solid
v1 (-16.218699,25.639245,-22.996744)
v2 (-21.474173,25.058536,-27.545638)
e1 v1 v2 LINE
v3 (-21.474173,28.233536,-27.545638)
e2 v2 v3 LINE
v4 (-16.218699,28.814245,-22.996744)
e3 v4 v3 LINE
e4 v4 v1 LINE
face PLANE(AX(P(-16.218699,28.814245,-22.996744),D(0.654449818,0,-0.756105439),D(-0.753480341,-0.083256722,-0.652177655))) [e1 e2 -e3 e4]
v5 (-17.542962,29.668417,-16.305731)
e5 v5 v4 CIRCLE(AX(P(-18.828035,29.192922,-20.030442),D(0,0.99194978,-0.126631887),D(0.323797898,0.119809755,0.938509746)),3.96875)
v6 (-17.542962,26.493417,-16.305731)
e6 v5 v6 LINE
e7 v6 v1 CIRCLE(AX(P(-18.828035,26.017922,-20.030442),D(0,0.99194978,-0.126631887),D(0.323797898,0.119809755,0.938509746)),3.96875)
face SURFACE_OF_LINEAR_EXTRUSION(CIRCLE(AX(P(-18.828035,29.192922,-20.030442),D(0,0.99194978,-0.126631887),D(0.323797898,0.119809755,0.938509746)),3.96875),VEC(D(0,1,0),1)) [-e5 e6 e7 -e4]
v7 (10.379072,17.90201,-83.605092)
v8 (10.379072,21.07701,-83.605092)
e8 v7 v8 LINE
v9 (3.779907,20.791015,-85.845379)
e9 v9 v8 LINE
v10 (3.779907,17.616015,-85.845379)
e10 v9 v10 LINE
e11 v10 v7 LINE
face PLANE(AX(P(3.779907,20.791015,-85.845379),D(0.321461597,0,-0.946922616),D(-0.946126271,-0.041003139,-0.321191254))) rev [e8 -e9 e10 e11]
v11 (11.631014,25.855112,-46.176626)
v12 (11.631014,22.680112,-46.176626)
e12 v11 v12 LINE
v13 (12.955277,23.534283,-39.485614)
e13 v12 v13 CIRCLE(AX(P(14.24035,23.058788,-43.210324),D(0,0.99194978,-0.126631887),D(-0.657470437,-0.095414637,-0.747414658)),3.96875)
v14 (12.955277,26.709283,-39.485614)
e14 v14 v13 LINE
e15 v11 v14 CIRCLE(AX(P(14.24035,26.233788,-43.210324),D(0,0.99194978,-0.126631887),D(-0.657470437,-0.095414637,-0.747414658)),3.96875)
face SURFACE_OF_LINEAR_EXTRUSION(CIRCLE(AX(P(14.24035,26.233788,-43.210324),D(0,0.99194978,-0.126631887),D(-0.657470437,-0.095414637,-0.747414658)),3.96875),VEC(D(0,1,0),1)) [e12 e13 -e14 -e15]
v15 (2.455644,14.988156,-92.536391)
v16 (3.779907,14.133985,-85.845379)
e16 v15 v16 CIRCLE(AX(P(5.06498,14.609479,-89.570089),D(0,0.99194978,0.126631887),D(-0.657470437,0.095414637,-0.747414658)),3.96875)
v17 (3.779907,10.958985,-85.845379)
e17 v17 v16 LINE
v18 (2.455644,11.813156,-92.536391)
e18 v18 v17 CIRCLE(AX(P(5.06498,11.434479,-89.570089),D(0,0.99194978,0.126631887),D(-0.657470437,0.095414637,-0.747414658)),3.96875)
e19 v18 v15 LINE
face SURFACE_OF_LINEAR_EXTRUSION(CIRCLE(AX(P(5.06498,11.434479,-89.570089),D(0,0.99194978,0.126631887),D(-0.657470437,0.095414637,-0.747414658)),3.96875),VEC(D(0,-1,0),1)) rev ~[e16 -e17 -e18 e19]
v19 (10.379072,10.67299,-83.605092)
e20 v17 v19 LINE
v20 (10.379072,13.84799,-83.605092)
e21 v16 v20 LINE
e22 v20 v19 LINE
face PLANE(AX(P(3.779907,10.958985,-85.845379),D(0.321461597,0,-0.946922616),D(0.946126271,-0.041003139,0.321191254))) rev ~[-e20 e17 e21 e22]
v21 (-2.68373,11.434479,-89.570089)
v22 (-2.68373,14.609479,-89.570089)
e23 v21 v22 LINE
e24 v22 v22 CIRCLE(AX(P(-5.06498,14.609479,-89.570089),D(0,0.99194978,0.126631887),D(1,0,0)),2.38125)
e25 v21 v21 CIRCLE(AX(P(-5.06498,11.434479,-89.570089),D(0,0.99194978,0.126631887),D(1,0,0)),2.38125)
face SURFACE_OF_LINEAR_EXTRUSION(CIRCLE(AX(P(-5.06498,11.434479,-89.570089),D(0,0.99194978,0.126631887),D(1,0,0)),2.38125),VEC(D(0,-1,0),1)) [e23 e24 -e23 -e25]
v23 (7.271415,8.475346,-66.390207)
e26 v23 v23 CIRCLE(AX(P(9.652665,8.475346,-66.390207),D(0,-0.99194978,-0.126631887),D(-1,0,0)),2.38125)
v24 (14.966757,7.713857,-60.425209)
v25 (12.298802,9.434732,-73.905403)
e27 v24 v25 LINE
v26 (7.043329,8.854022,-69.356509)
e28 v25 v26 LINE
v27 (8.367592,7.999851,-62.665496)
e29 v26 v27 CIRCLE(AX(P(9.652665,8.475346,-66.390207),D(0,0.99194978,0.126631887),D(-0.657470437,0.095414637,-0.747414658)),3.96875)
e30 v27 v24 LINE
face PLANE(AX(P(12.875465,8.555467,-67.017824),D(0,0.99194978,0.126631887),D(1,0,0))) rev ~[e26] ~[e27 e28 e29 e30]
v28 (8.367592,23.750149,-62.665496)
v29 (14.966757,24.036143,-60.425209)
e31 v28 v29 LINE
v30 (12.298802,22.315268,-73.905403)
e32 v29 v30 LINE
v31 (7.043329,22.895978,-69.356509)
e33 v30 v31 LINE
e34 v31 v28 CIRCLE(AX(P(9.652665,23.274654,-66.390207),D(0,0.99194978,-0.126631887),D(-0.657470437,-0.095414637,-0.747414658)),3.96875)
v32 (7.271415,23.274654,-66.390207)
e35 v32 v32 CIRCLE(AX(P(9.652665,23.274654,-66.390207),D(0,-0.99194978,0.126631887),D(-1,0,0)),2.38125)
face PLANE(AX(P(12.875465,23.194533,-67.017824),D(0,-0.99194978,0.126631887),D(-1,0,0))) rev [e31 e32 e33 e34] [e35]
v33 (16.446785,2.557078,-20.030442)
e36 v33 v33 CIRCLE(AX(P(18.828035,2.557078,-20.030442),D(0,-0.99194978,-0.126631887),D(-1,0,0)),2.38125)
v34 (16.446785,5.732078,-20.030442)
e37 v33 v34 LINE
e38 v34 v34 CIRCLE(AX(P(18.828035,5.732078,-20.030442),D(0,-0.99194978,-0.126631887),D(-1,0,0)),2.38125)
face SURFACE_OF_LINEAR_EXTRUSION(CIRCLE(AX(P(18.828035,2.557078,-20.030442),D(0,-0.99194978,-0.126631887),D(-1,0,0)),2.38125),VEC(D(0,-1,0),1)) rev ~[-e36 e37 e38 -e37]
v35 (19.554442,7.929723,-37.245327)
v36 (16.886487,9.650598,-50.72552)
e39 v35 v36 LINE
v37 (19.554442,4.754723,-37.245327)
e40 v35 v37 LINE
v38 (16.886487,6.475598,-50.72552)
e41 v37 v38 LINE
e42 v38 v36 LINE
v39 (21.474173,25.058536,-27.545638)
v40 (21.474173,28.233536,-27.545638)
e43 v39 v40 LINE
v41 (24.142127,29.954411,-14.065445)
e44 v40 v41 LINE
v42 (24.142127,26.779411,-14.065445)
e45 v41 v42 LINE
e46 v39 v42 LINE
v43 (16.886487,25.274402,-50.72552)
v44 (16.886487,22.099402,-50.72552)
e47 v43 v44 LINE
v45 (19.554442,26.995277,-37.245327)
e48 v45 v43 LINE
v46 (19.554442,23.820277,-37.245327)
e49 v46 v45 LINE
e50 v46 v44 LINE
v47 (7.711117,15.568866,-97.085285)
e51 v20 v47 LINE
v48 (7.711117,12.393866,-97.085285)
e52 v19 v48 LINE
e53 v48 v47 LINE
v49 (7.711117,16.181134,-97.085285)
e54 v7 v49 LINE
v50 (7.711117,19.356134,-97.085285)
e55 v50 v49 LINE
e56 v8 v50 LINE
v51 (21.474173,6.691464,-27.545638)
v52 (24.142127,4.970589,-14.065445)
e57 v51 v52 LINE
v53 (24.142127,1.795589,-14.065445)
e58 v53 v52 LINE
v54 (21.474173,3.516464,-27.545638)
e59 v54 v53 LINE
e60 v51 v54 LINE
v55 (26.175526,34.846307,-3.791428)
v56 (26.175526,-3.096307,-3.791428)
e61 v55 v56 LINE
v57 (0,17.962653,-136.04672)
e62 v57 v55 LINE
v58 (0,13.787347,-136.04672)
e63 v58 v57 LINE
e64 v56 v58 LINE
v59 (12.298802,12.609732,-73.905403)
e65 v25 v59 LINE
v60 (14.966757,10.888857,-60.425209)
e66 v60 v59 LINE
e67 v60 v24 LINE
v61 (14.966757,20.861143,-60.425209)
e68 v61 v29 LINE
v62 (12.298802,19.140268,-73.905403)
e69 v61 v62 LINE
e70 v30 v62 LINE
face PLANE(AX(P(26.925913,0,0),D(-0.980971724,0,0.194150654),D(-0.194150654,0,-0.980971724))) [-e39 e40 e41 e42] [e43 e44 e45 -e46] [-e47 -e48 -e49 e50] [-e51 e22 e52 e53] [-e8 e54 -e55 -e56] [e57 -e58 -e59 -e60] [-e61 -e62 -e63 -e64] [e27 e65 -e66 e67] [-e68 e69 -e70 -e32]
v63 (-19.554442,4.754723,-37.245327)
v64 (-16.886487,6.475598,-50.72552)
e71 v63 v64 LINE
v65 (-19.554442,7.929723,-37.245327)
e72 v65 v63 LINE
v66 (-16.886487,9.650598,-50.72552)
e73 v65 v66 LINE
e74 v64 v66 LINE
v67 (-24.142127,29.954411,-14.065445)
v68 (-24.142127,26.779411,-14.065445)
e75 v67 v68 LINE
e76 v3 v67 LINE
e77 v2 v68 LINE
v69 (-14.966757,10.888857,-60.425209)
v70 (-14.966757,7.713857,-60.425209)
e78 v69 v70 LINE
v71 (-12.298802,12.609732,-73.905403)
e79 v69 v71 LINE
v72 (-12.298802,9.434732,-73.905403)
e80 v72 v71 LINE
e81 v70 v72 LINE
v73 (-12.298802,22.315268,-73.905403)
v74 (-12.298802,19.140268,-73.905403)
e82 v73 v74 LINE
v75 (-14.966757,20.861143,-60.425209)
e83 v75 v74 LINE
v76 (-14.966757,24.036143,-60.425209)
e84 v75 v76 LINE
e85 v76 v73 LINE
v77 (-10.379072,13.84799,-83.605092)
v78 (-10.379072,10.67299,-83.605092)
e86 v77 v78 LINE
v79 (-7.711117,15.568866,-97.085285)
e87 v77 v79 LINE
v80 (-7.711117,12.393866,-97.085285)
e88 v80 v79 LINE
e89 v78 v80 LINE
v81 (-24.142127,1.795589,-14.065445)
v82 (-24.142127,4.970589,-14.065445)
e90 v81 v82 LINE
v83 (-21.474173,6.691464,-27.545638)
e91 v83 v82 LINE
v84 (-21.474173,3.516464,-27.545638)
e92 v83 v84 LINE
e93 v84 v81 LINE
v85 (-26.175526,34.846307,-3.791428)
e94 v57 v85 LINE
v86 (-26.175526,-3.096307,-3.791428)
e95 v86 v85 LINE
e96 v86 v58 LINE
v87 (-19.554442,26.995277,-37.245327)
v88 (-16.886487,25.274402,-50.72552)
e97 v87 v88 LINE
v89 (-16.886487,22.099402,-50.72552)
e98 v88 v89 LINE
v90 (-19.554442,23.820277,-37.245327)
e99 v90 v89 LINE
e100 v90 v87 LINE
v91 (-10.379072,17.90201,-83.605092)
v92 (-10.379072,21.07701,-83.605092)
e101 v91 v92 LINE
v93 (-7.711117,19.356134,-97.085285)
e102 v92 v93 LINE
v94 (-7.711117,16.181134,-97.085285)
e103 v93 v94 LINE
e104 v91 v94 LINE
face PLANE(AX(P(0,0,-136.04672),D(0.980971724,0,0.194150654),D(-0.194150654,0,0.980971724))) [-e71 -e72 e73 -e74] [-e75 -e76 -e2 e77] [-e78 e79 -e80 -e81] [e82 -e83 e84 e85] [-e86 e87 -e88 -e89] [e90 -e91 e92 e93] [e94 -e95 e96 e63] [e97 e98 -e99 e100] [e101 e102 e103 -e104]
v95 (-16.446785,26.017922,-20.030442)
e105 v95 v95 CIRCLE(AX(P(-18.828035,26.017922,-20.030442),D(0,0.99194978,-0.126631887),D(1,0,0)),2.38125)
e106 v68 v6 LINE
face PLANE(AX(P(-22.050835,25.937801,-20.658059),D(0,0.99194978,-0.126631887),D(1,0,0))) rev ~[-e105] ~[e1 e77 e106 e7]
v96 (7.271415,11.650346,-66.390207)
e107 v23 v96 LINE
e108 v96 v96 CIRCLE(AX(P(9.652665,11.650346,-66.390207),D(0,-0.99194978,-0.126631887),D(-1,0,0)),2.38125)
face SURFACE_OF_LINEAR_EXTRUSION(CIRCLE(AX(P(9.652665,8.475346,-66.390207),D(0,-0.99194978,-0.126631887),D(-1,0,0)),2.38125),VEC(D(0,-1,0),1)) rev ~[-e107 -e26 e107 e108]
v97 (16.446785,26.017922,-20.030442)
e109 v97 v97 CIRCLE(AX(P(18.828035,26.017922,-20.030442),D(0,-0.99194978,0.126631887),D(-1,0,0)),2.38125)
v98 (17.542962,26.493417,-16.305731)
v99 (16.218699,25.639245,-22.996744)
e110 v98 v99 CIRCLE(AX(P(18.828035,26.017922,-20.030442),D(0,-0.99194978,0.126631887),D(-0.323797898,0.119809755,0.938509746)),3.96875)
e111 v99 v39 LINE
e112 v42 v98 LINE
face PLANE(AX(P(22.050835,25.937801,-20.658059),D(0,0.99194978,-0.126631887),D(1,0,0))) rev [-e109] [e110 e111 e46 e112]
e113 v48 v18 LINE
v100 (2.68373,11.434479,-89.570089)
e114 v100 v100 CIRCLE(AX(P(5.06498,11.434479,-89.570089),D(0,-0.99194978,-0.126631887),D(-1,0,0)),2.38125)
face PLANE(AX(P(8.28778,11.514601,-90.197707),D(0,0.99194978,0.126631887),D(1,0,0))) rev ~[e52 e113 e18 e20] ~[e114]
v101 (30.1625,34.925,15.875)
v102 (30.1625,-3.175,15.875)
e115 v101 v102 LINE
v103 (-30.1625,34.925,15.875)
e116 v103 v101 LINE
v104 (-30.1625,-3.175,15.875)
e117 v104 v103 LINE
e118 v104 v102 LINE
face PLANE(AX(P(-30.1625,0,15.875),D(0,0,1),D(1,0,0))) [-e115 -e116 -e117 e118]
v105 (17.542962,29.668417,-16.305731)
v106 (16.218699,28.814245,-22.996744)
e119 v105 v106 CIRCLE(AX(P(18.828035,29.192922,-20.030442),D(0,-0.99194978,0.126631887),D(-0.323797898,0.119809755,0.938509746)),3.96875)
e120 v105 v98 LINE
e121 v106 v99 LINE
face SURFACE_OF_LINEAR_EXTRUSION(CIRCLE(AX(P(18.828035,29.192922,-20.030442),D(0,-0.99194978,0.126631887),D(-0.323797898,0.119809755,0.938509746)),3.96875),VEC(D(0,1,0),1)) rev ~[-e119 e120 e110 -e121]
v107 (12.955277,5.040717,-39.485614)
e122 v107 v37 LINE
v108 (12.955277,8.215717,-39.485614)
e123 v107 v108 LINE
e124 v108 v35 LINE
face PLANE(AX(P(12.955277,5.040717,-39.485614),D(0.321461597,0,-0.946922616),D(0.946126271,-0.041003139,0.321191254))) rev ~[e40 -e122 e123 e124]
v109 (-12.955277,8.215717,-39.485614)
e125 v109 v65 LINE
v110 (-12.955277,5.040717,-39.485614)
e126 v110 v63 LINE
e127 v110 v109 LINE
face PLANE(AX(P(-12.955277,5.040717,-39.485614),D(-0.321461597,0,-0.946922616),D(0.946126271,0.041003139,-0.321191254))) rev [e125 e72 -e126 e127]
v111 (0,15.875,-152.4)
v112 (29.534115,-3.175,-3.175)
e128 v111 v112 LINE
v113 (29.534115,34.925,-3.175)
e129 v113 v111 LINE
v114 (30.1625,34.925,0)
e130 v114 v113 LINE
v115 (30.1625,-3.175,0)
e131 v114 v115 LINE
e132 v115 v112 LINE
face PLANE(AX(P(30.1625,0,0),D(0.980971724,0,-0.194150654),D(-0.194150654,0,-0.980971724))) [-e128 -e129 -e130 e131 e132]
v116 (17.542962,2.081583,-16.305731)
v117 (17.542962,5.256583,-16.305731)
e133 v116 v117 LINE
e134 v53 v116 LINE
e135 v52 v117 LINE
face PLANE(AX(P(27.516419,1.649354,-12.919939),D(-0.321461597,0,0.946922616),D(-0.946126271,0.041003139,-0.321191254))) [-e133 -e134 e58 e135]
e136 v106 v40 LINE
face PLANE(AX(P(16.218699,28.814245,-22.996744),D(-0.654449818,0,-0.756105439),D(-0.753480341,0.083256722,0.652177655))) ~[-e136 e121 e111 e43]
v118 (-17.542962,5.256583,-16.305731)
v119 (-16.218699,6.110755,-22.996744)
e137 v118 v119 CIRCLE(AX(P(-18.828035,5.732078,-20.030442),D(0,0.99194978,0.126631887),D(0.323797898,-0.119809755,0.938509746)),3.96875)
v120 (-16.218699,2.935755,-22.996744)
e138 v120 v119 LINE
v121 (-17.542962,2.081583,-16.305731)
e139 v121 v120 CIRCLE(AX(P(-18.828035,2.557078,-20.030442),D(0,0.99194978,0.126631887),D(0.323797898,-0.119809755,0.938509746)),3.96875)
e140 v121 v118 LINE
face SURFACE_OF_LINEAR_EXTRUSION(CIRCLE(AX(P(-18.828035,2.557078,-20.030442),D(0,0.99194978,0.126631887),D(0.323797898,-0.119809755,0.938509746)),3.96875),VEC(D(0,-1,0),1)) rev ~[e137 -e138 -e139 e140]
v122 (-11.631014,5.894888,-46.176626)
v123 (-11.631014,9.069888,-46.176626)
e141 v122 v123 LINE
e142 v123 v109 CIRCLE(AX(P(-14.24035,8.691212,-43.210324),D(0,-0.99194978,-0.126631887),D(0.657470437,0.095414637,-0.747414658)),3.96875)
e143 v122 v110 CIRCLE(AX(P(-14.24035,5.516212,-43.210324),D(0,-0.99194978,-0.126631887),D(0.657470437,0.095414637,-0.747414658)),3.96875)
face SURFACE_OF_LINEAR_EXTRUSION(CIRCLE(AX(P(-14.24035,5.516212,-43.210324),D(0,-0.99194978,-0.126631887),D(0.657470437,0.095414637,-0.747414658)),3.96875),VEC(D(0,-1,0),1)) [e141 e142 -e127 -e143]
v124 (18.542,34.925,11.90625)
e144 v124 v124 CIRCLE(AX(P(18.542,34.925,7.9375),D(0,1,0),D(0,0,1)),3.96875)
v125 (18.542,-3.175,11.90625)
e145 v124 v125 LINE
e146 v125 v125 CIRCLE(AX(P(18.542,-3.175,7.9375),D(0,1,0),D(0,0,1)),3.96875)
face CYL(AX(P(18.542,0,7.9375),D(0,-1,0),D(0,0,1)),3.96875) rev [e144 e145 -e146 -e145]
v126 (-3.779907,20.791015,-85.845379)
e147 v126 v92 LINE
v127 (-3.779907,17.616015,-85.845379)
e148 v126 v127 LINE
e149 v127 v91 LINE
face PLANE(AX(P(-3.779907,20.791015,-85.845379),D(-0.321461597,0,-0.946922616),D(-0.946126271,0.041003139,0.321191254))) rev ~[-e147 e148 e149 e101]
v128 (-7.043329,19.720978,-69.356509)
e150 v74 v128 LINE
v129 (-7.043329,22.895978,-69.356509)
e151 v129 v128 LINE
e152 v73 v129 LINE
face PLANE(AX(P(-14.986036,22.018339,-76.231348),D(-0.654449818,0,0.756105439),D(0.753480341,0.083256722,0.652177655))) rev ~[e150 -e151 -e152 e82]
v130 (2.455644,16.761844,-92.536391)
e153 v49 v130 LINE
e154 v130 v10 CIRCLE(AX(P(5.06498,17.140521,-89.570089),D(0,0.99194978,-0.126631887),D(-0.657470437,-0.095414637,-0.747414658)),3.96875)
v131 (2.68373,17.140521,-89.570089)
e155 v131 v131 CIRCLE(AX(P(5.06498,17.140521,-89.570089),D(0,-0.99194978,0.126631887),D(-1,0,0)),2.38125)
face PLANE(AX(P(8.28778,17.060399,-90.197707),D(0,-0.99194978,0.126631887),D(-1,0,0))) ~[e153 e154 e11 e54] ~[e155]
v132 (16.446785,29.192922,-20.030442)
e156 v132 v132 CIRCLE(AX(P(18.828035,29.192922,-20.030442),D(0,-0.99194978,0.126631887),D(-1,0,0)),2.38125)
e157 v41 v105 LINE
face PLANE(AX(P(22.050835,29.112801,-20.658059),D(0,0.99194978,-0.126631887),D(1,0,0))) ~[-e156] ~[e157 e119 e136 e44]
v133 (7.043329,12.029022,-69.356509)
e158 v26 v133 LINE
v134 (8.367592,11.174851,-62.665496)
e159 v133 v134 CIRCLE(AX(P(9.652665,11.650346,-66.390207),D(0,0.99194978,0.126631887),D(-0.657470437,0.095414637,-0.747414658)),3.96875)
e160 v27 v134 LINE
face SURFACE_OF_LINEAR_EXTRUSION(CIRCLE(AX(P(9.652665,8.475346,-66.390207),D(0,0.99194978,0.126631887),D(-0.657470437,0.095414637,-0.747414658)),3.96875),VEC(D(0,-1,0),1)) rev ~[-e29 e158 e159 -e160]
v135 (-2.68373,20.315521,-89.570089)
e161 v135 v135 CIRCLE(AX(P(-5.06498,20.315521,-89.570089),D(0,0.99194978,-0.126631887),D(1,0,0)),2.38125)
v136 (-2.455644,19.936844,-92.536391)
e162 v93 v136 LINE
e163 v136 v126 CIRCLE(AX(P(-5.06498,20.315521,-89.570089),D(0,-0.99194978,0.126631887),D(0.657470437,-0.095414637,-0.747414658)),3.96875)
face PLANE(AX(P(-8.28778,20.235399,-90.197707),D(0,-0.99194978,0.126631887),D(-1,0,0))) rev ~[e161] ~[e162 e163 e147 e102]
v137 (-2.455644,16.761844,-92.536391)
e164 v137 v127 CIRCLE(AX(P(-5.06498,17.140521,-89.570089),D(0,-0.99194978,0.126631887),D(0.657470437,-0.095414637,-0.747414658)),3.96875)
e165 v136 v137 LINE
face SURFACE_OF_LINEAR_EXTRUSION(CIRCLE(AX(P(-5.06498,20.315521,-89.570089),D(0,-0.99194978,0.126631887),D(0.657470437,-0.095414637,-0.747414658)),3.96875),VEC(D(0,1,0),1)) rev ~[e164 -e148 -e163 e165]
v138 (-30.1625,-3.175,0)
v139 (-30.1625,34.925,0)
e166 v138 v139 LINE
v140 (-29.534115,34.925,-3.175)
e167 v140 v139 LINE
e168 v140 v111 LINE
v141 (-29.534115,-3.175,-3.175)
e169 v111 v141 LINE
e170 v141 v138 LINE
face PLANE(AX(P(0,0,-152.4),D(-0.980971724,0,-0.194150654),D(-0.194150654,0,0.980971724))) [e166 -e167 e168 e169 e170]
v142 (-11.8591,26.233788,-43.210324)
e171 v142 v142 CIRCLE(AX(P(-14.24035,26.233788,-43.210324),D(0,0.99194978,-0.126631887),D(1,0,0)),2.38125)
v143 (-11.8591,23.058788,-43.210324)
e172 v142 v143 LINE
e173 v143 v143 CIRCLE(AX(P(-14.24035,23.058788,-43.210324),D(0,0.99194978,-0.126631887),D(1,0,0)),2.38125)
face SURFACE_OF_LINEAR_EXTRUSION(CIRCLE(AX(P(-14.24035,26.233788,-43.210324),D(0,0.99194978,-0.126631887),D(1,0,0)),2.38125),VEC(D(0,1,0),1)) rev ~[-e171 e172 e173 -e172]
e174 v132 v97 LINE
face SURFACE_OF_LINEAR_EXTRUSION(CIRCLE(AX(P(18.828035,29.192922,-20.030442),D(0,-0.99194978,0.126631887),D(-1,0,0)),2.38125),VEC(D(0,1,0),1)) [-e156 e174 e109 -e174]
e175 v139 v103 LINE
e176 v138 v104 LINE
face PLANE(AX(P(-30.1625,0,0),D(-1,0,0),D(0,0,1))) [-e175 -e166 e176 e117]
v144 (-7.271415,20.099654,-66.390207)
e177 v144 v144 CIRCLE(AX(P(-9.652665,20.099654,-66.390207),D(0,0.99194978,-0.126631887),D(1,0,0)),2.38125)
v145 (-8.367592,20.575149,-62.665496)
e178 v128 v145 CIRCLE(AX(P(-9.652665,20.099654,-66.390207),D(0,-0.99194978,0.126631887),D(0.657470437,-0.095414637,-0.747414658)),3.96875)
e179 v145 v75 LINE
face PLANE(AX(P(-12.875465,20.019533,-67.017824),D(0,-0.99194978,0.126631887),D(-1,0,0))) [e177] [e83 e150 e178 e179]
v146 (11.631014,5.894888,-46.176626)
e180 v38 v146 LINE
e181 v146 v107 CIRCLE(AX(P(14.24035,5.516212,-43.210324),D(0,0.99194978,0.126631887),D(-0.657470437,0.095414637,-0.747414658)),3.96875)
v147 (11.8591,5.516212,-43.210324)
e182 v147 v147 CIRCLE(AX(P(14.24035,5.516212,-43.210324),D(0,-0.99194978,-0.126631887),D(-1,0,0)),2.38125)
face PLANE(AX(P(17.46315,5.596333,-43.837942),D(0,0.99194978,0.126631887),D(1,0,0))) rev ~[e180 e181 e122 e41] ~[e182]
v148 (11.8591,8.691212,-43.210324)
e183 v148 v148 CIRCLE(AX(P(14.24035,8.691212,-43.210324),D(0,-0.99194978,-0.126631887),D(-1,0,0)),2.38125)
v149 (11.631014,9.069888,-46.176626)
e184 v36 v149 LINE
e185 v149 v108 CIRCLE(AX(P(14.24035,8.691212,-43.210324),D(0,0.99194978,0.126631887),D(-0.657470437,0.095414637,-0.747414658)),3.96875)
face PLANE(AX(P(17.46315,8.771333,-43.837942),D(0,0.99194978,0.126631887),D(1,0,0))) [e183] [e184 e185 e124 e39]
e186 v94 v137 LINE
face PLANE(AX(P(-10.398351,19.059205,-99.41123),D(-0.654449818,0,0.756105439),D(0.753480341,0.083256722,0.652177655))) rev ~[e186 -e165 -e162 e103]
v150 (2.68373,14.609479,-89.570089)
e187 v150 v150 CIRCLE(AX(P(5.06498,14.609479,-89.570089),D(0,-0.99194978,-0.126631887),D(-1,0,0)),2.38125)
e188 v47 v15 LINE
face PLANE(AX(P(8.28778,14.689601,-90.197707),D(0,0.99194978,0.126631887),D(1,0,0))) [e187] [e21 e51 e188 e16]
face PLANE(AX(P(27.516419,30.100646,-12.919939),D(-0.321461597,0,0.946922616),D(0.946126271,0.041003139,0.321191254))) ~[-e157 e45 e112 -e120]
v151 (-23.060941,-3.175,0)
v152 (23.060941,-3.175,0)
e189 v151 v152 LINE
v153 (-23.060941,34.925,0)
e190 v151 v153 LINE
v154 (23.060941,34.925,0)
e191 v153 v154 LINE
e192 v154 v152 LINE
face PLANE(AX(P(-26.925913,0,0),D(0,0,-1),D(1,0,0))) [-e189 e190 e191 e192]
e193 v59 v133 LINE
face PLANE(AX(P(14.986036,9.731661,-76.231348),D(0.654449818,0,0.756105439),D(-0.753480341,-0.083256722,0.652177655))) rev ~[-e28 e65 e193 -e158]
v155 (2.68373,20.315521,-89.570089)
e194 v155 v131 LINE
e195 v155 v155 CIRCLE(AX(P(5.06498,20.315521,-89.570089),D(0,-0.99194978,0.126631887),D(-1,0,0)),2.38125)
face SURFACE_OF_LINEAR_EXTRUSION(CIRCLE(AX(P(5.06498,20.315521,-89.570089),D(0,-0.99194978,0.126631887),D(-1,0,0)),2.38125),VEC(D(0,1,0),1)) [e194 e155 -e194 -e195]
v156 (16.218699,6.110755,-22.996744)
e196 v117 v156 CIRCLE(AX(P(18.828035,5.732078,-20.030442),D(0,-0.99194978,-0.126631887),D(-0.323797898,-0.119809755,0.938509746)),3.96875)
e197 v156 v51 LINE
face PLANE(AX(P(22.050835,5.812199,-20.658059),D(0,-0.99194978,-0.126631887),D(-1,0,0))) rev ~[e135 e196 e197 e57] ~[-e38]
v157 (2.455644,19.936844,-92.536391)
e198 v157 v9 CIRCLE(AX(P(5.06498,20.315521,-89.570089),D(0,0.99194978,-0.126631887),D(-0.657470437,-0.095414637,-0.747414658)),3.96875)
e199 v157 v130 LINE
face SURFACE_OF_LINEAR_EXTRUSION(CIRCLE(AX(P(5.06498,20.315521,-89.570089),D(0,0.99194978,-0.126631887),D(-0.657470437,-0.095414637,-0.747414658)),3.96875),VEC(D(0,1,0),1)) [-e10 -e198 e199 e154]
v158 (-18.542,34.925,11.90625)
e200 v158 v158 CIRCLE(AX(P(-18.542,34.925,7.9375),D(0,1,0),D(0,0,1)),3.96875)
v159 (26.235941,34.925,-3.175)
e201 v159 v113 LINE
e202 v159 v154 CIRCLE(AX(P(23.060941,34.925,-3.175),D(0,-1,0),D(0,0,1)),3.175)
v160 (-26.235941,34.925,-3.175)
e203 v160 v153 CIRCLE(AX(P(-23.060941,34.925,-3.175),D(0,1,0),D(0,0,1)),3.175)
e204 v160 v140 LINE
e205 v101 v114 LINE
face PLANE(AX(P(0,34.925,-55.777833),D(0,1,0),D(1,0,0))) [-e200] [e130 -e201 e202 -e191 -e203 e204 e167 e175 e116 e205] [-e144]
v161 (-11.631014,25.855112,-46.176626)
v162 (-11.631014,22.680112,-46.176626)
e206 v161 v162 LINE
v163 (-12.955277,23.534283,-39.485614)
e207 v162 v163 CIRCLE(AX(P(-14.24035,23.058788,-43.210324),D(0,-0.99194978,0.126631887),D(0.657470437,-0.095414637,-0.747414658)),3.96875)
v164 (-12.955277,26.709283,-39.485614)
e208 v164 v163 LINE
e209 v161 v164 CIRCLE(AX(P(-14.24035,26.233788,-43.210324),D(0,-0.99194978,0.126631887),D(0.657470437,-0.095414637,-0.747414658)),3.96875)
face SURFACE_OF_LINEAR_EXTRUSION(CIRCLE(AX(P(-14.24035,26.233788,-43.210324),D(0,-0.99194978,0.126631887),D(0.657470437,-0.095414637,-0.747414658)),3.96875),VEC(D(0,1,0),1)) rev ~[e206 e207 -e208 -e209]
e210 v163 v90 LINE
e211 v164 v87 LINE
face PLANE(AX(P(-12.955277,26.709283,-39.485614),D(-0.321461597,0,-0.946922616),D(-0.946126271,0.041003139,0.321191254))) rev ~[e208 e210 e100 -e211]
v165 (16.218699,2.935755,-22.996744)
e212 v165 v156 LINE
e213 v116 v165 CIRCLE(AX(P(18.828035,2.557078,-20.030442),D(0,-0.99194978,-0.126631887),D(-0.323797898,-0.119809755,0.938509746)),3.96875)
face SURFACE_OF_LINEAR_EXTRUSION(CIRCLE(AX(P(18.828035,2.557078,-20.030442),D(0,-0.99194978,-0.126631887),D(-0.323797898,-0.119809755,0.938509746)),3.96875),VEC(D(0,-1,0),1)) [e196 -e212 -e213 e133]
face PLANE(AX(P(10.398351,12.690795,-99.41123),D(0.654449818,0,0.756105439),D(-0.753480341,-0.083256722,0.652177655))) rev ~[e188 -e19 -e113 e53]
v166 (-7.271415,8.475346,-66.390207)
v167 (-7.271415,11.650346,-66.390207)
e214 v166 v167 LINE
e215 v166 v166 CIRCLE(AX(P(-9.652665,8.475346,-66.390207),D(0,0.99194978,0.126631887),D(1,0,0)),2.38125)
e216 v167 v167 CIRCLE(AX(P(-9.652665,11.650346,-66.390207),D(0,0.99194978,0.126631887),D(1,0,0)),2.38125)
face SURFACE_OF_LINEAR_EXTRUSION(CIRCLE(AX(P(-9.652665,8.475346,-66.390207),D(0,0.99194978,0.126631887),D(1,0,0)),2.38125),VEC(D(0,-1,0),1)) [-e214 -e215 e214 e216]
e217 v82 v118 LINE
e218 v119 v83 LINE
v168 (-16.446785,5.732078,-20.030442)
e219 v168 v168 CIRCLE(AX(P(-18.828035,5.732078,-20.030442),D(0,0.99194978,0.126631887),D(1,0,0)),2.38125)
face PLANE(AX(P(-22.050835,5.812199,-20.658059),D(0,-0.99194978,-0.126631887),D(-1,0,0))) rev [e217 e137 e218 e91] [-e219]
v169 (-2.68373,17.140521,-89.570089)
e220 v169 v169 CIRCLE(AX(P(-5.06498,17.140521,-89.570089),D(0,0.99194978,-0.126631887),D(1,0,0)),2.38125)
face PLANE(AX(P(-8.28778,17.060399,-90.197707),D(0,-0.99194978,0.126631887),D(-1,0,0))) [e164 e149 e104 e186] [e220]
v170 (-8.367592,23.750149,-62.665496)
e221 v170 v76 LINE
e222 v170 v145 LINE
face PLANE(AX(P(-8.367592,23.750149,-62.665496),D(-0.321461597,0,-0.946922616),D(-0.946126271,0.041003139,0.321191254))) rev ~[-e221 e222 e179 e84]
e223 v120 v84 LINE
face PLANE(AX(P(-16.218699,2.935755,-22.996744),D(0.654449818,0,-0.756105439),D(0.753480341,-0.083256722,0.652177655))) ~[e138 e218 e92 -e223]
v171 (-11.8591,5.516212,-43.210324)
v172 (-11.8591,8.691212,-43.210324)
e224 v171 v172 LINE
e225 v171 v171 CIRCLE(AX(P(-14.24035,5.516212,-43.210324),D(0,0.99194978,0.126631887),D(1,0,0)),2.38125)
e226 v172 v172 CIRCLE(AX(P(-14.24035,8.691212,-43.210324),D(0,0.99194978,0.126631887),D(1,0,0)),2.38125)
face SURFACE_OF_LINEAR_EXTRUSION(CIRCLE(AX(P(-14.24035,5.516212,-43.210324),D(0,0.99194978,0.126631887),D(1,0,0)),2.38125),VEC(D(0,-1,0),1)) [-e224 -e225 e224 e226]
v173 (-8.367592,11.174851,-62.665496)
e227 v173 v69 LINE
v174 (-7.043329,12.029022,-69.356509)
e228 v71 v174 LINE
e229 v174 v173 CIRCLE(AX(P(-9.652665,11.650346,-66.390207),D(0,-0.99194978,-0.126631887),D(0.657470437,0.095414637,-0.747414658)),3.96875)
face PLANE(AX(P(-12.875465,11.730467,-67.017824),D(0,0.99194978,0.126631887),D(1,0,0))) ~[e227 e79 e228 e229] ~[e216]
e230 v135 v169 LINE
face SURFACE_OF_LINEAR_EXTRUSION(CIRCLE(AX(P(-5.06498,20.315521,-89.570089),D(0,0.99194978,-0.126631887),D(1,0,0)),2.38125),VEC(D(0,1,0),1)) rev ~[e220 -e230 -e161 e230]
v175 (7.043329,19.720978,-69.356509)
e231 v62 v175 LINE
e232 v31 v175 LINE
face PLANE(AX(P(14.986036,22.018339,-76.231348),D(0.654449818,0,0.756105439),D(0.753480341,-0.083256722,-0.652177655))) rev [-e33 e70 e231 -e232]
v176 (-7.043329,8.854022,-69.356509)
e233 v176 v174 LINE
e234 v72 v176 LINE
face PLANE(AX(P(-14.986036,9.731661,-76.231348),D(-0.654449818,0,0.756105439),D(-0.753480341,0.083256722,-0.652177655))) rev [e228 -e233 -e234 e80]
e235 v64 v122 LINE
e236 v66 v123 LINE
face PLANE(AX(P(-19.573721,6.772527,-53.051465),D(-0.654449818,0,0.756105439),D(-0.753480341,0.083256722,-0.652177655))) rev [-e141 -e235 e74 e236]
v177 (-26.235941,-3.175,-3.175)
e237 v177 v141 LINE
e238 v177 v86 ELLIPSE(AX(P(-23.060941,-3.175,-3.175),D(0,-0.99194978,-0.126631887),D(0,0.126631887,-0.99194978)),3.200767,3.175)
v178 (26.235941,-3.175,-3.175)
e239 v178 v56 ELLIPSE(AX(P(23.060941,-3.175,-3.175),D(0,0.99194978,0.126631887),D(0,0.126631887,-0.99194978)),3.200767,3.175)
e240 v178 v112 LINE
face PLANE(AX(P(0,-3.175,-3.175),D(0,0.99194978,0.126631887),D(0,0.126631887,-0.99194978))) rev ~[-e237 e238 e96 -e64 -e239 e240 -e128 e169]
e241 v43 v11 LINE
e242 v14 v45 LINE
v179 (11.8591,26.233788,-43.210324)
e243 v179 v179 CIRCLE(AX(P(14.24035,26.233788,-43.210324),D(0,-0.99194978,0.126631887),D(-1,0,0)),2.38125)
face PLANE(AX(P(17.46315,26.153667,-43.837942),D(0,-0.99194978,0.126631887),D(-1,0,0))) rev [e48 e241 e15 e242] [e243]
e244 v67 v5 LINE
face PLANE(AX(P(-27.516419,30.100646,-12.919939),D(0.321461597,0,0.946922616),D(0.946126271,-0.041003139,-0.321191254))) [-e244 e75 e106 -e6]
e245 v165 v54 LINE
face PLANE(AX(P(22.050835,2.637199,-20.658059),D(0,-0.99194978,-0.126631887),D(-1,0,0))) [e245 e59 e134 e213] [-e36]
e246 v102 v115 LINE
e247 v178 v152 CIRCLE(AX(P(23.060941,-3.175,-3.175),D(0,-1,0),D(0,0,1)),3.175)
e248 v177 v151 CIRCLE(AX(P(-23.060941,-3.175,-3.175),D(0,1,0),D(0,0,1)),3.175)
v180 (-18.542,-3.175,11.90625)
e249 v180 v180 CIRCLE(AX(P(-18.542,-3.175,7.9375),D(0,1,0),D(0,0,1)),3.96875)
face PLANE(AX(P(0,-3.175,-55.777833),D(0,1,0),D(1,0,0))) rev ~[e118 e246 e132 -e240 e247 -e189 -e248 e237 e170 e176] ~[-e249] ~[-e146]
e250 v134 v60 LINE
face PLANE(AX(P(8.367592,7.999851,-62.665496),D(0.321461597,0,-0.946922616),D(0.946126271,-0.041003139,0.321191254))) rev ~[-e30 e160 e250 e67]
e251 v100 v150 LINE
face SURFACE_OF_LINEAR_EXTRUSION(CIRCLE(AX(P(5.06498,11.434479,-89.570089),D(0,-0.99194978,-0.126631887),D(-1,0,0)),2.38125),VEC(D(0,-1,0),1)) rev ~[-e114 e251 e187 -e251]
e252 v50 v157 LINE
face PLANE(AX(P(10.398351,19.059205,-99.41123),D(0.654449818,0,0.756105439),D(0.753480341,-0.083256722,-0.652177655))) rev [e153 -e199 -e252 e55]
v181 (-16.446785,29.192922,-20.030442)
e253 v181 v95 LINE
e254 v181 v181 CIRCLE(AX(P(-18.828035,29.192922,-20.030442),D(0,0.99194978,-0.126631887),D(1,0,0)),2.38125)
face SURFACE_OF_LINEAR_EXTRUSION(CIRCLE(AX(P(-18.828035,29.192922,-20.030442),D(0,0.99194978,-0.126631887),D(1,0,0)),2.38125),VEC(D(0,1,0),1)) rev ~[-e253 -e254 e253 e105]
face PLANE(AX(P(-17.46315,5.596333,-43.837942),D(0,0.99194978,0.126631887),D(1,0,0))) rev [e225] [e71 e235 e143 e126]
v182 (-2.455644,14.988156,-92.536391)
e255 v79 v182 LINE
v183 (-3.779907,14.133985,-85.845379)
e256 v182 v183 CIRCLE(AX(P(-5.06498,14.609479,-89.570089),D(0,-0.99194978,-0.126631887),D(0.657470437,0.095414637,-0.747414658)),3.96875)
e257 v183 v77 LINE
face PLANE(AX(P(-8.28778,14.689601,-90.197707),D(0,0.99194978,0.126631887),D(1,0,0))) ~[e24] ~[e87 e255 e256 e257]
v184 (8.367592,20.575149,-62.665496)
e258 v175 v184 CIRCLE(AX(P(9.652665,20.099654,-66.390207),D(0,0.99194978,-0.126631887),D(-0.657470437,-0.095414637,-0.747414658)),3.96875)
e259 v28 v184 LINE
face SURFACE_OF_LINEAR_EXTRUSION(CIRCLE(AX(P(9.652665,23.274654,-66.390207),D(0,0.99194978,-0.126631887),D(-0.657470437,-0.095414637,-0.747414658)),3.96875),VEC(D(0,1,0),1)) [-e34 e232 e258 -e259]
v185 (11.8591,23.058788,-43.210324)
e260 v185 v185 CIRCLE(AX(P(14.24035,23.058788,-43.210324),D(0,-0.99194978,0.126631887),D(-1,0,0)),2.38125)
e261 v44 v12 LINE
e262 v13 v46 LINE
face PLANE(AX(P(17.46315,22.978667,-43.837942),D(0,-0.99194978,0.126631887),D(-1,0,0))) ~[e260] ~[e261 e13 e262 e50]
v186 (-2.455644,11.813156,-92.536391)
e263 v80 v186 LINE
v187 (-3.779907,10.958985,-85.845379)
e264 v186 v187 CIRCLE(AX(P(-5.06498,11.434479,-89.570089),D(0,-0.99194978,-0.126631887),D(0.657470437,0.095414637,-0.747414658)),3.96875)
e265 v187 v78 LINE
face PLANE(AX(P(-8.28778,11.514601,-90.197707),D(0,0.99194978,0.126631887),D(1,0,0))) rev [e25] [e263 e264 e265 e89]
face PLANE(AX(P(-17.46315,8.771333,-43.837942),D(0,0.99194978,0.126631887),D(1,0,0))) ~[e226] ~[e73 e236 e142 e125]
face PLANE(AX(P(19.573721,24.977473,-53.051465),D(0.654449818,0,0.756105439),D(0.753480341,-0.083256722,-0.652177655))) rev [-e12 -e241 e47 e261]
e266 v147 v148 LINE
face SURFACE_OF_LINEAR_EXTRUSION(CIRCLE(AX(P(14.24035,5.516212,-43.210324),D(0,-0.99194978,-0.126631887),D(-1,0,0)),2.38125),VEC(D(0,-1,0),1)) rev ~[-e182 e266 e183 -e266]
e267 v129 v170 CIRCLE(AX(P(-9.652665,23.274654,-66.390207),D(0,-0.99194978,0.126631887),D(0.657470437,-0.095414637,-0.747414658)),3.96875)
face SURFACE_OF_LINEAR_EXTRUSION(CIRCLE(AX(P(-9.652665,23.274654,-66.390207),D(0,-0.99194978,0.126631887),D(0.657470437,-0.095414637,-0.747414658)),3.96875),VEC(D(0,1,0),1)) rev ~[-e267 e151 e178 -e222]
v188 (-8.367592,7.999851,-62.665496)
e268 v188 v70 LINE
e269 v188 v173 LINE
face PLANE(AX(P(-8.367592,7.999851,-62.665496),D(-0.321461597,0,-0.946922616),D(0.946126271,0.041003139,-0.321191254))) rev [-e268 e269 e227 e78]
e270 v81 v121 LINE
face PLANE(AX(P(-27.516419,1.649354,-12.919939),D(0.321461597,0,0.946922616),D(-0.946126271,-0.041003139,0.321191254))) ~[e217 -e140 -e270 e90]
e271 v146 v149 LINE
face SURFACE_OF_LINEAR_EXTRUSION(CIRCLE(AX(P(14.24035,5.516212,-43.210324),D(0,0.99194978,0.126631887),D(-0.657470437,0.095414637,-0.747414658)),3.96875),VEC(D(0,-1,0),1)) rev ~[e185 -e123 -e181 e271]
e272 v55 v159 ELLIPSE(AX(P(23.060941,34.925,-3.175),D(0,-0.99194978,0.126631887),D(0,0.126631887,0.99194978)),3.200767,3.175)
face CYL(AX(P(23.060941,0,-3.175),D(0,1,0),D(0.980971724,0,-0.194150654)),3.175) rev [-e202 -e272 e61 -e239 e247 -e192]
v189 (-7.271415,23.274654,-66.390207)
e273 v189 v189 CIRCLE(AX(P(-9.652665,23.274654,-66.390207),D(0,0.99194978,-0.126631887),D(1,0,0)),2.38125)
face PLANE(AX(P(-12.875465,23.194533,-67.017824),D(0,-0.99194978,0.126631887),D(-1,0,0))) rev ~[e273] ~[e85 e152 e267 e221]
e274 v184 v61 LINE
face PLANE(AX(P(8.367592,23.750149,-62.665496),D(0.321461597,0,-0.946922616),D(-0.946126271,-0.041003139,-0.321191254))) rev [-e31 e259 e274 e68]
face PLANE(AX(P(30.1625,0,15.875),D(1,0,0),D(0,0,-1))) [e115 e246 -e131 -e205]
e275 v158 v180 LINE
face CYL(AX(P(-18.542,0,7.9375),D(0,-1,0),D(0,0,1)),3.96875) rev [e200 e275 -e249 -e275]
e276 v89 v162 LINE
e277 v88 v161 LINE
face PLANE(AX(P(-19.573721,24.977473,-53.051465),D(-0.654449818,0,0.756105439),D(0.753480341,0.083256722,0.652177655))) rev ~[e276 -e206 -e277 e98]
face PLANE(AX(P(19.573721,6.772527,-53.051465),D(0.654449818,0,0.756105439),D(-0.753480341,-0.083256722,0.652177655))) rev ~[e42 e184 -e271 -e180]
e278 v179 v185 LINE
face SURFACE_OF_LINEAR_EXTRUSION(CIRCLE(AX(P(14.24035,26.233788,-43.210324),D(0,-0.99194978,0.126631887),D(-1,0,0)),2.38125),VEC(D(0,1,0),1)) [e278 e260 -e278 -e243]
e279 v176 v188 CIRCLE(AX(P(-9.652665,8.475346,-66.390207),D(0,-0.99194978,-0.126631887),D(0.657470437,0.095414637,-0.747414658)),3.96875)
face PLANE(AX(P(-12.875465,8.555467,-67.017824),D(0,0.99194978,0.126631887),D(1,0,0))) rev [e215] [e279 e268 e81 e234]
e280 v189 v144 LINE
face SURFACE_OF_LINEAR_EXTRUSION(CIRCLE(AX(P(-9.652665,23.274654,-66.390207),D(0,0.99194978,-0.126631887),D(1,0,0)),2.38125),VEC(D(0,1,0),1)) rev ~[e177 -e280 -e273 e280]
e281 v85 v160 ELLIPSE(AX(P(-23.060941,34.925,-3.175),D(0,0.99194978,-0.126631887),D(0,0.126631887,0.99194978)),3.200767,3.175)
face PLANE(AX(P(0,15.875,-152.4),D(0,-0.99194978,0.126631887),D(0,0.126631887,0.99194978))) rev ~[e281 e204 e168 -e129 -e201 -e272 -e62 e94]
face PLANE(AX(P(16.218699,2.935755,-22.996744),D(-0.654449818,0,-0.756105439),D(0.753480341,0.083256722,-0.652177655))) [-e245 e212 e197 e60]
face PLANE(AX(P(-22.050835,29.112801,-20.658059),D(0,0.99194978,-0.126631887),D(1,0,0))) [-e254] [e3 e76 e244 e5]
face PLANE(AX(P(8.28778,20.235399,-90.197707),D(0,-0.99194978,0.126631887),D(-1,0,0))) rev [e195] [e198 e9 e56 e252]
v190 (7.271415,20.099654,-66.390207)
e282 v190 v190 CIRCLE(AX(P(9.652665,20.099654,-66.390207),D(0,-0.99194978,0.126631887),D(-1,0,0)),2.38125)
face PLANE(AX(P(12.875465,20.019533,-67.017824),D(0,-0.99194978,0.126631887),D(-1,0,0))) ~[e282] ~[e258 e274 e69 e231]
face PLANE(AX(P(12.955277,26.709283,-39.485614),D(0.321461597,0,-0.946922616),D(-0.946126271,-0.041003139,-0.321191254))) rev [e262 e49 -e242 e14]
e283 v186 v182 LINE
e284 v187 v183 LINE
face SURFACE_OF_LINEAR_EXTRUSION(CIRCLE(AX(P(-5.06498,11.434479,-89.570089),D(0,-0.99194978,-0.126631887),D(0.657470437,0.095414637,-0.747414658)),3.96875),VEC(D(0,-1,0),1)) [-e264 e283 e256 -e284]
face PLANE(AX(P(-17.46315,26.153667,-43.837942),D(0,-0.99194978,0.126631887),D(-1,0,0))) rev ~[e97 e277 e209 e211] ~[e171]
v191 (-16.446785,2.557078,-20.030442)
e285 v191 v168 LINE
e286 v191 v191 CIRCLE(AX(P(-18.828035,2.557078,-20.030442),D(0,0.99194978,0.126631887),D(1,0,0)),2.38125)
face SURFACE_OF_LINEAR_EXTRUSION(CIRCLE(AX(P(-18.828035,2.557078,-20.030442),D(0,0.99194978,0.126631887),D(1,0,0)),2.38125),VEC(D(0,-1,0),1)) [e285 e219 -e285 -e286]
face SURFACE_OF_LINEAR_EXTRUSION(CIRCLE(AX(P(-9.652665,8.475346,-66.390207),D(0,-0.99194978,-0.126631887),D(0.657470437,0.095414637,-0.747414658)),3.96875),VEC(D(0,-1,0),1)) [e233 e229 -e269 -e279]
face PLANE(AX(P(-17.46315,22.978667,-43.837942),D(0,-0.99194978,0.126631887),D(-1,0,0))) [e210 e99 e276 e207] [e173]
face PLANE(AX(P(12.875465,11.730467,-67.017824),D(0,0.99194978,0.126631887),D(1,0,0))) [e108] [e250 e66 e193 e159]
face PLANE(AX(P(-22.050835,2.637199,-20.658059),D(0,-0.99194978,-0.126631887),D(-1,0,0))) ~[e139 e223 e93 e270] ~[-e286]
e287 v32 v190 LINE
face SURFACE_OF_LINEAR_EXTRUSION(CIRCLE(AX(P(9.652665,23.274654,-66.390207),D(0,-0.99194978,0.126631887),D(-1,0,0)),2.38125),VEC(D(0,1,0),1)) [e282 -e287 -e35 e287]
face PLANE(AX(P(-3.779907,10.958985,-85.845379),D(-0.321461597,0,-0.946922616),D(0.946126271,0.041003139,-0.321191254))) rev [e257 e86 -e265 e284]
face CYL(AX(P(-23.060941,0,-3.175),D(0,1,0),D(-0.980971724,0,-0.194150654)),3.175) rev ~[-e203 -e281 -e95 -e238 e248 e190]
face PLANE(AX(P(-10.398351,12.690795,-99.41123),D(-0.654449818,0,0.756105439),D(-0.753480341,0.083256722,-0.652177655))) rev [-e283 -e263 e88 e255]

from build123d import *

# Parameters (mm, degrees)
SKETCH1_R                = 3.96875
BOSS_EXTRUDE1_DEPTH      = 34.925
BOSS_EXTRUDE1_DEPTH_BACK = 3.175
FILLET1_R                = 3.175
CUT_EXTRUDE1_DEPTH       = 31.1625
CUT_EXTRUDE1_DEPTH_BACK  = 31.1625
SKETCH3_R                = 2.38125
BOSS_EXTRUDE9_DEPTH      = 3.175
MIRROR22_COPY_1_SKETCH_R = 2.38125
MIRROR22_COPY_1_DEPTH    = 3.175


with BuildPart() as part:
    # Sketch1 → Boss-Extrude1 (new body, two sides)
    with BuildSketch(Plane(origin=(0, 0, 0), x_dir=(1, 0, 0), z_dir=(0, 1, 0))) as boss_extrude1_sk:
        Polygon((0, 152.4), (-30.1625, 0), (-30.1625, -15.875), (30.1625, -15.875), (30.1625, 0), align=None)
        with Locations(Location((-18.542, -7.9375, 0), (0, 0, 270))):  # turned: the seam where the file's is
            Circle(SKETCH1_R, mode=Mode.SUBTRACT)
        with Locations(Location((18.542, -7.9375, 0), (0, 0, 270))):  # turned: the seam where the file's is
            Circle(SKETCH1_R, mode=Mode.SUBTRACT)
        Polygon((-26.925913336, 0), (26.925913336, 0), (0, 136.046720015), align=None, mode=Mode.SUBTRACT)
    extrude(amount=BOSS_EXTRUDE1_DEPTH)
    extrude(boss_extrude1_sk.sketch, amount=-BOSS_EXTRUDE1_DEPTH_BACK)

    # Fillet1
    fillet1_edges = [part.edges().sort_by_distance(p)[0] for p in [
        (-26.925913336, 15.875, 0),
        (26.925913336, 15.875, 0),
    ]]
    fillet(fillet1_edges, radius=FILLET1_R)

    # Sketch2 → Cut-Extrude1 (cut, two sides)
    with BuildSketch(Plane(origin=(0, 0, 0), x_dir=(0, 0, -1), z_dir=(1, 0, 0))) as cut_extrude1_sk:
        Polygon((152.4, 15.875), (3.175, 34.925), (152.4, 34.925), align=None)
        Polygon((3.175, -3.175), (152.4, 15.875), (152.4, -3.175), align=None)
    extrude(amount=CUT_EXTRUDE1_DEPTH, mode=Mode.SUBTRACT)
    extrude(cut_extrude1_sk.sketch, amount=-CUT_EXTRUDE1_DEPTH_BACK, mode=Mode.SUBTRACT)

    # Sketch3 → Boss-Extrude9 (add, along a direction that is not the sketch's normal)
    with BuildSketch(Plane(origin=(0, 0, 0), x_dir=(-1, 0, 0), z_dir=(0, -0.99194978, -0.126631887))):
        with BuildLine():
            Line((-16.21869923, 23.183375104), (-24.161406287, 30.114007256))
            Line((-24.161406287, 30.114007256), (-27.516419153, 13.02479135))
            Line((-27.516419153, 13.02479135), (-17.542962116, 16.438061361))
            ThreePointArc((-17.542962116, 16.438061361), (-14.93362632, 19.428436466), (-16.21869923, 23.183375104))
        make_face()
        with Locations((-18.828035026, 20.193)):
            Circle(SKETCH3_R, mode=Mode.SUBTRACT)
        with BuildLine():
            Line((-22.928734085, 36.39279135), (-19.573721219, 53.482007256))
            Line((-19.573721219, 53.482007256), (-11.631014161, 46.551375104))
            ThreePointArc((-11.631014161, 46.551375104), (-10.345941252, 42.796436466), (-12.955277048, 39.806061361))
            Line((-12.955277048, 39.806061361), (-22.928734085, 36.39279135))
        make_face()
        with Locations((-14.240349958, 43.561)):
            Circle(SKETCH3_R, mode=Mode.SUBTRACT)
        with BuildLine():
            Line((-18.341049017, 59.76079135), (-14.986036151, 76.850007256))
            Line((-14.986036151, 76.850007256), (-7.043329093, 69.919375104))
            ThreePointArc((-7.043329093, 69.919375104), (-5.758256184, 66.164436466), (-8.36759198, 63.174061361))
            Line((-8.36759198, 63.174061361), (-18.341049017, 59.76079135))
        make_face()
        with Locations((-9.652664889, 66.929)):
            Circle(SKETCH3_R, mode=Mode.SUBTRACT)
        with BuildLine():
            Line((-13.753363948, 83.12879135), (-10.398351083, 100.218007256))
            Line((-10.398351083, 100.218007256), (-2.455644025, 93.287375104))
            ThreePointArc((-2.455644025, 93.287375104), (-1.170571116, 89.532436466), (-3.779906912, 86.542061361))
            Line((-3.779906912, 86.542061361), (-13.753363948, 83.12879135))
        make_face()
        with Locations((-5.064979821, 90.297)):
            Circle(SKETCH3_R, mode=Mode.SUBTRACT)
    boss_extrude9 = extrude(amount=-BOSS_EXTRUDE9_DEPTH, dir=(0, -1, 0))

    # Mirror21: Boss-Extrude9 across plane
    add(boss_extrude9.mirror(Plane(origin=(0, 0, 0), x_dir=(0, 0, 1), z_dir=(1, 0, 0))))

    # Mirror22: Boss-Extrude9 across plane
    add(boss_extrude9.mirror(Plane.ZX.offset(15.875)))

    # Mirror22 copy 1 sketch → Mirror22 copy 1 (add, along a direction that is not the sketch's normal)
    with BuildSketch(Plane(origin=(0, 31.75, 0), x_dir=(1, 0, 0), z_dir=(0, 0.99194978, -0.126631887))):
        with BuildLine():
            Line((-16.21869923, 23.183375104), (-24.161406287, 30.114007256))
            Line((-24.161406287, 30.114007256), (-27.516419153, 13.02479135))
            Line((-27.516419153, 13.02479135), (-17.542962116, 16.438061361))
            ThreePointArc((-17.542962116, 16.438061361), (-14.93362632, 19.428436466), (-16.21869923, 23.183375104))
        make_face()
        with Locations((-18.828035026, 20.193)):
            Circle(MIRROR22_COPY_1_SKETCH_R, mode=Mode.SUBTRACT)
        with BuildLine():
            Line((-22.928734085, 36.39279135), (-19.573721219, 53.482007256))
            Line((-19.573721219, 53.482007256), (-11.631014161, 46.551375104))
            ThreePointArc((-11.631014161, 46.551375104), (-10.345941252, 42.796436466), (-12.955277048, 39.806061361))
            Line((-12.955277048, 39.806061361), (-22.928734085, 36.39279135))
        make_face()
        with Locations((-14.240349958, 43.561)):
            Circle(MIRROR22_COPY_1_SKETCH_R, mode=Mode.SUBTRACT)
        with BuildLine():
            Line((-18.341049017, 59.76079135), (-14.986036151, 76.850007256))
            Line((-14.986036151, 76.850007256), (-7.043329093, 69.919375104))
            ThreePointArc((-7.043329093, 69.919375104), (-5.758256184, 66.164436466), (-8.36759198, 63.174061361))
            Line((-8.36759198, 63.174061361), (-18.341049017, 59.76079135))
        make_face()
        with Locations((-9.652664889, 66.929)):
            Circle(MIRROR22_COPY_1_SKETCH_R, mode=Mode.SUBTRACT)
        with BuildLine():
            Line((-13.753363948, 83.12879135), (-10.398351083, 100.218007256))
            Line((-10.398351083, 100.218007256), (-2.455644025, 93.287375104))
            ThreePointArc((-2.455644025, 93.287375104), (-1.170571116, 89.532436466), (-3.779906912, 86.542061361))
            Line((-3.779906912, 86.542061361), (-13.753363948, 83.12879135))
        make_face()
        with Locations((-5.064979821, 90.297)):
            Circle(MIRROR22_COPY_1_SKETCH_R, mode=Mode.SUBTRACT)
    extrude(amount=-MIRROR22_COPY_1_DEPTH, dir=(0, 1, 0))


solid = part.part
